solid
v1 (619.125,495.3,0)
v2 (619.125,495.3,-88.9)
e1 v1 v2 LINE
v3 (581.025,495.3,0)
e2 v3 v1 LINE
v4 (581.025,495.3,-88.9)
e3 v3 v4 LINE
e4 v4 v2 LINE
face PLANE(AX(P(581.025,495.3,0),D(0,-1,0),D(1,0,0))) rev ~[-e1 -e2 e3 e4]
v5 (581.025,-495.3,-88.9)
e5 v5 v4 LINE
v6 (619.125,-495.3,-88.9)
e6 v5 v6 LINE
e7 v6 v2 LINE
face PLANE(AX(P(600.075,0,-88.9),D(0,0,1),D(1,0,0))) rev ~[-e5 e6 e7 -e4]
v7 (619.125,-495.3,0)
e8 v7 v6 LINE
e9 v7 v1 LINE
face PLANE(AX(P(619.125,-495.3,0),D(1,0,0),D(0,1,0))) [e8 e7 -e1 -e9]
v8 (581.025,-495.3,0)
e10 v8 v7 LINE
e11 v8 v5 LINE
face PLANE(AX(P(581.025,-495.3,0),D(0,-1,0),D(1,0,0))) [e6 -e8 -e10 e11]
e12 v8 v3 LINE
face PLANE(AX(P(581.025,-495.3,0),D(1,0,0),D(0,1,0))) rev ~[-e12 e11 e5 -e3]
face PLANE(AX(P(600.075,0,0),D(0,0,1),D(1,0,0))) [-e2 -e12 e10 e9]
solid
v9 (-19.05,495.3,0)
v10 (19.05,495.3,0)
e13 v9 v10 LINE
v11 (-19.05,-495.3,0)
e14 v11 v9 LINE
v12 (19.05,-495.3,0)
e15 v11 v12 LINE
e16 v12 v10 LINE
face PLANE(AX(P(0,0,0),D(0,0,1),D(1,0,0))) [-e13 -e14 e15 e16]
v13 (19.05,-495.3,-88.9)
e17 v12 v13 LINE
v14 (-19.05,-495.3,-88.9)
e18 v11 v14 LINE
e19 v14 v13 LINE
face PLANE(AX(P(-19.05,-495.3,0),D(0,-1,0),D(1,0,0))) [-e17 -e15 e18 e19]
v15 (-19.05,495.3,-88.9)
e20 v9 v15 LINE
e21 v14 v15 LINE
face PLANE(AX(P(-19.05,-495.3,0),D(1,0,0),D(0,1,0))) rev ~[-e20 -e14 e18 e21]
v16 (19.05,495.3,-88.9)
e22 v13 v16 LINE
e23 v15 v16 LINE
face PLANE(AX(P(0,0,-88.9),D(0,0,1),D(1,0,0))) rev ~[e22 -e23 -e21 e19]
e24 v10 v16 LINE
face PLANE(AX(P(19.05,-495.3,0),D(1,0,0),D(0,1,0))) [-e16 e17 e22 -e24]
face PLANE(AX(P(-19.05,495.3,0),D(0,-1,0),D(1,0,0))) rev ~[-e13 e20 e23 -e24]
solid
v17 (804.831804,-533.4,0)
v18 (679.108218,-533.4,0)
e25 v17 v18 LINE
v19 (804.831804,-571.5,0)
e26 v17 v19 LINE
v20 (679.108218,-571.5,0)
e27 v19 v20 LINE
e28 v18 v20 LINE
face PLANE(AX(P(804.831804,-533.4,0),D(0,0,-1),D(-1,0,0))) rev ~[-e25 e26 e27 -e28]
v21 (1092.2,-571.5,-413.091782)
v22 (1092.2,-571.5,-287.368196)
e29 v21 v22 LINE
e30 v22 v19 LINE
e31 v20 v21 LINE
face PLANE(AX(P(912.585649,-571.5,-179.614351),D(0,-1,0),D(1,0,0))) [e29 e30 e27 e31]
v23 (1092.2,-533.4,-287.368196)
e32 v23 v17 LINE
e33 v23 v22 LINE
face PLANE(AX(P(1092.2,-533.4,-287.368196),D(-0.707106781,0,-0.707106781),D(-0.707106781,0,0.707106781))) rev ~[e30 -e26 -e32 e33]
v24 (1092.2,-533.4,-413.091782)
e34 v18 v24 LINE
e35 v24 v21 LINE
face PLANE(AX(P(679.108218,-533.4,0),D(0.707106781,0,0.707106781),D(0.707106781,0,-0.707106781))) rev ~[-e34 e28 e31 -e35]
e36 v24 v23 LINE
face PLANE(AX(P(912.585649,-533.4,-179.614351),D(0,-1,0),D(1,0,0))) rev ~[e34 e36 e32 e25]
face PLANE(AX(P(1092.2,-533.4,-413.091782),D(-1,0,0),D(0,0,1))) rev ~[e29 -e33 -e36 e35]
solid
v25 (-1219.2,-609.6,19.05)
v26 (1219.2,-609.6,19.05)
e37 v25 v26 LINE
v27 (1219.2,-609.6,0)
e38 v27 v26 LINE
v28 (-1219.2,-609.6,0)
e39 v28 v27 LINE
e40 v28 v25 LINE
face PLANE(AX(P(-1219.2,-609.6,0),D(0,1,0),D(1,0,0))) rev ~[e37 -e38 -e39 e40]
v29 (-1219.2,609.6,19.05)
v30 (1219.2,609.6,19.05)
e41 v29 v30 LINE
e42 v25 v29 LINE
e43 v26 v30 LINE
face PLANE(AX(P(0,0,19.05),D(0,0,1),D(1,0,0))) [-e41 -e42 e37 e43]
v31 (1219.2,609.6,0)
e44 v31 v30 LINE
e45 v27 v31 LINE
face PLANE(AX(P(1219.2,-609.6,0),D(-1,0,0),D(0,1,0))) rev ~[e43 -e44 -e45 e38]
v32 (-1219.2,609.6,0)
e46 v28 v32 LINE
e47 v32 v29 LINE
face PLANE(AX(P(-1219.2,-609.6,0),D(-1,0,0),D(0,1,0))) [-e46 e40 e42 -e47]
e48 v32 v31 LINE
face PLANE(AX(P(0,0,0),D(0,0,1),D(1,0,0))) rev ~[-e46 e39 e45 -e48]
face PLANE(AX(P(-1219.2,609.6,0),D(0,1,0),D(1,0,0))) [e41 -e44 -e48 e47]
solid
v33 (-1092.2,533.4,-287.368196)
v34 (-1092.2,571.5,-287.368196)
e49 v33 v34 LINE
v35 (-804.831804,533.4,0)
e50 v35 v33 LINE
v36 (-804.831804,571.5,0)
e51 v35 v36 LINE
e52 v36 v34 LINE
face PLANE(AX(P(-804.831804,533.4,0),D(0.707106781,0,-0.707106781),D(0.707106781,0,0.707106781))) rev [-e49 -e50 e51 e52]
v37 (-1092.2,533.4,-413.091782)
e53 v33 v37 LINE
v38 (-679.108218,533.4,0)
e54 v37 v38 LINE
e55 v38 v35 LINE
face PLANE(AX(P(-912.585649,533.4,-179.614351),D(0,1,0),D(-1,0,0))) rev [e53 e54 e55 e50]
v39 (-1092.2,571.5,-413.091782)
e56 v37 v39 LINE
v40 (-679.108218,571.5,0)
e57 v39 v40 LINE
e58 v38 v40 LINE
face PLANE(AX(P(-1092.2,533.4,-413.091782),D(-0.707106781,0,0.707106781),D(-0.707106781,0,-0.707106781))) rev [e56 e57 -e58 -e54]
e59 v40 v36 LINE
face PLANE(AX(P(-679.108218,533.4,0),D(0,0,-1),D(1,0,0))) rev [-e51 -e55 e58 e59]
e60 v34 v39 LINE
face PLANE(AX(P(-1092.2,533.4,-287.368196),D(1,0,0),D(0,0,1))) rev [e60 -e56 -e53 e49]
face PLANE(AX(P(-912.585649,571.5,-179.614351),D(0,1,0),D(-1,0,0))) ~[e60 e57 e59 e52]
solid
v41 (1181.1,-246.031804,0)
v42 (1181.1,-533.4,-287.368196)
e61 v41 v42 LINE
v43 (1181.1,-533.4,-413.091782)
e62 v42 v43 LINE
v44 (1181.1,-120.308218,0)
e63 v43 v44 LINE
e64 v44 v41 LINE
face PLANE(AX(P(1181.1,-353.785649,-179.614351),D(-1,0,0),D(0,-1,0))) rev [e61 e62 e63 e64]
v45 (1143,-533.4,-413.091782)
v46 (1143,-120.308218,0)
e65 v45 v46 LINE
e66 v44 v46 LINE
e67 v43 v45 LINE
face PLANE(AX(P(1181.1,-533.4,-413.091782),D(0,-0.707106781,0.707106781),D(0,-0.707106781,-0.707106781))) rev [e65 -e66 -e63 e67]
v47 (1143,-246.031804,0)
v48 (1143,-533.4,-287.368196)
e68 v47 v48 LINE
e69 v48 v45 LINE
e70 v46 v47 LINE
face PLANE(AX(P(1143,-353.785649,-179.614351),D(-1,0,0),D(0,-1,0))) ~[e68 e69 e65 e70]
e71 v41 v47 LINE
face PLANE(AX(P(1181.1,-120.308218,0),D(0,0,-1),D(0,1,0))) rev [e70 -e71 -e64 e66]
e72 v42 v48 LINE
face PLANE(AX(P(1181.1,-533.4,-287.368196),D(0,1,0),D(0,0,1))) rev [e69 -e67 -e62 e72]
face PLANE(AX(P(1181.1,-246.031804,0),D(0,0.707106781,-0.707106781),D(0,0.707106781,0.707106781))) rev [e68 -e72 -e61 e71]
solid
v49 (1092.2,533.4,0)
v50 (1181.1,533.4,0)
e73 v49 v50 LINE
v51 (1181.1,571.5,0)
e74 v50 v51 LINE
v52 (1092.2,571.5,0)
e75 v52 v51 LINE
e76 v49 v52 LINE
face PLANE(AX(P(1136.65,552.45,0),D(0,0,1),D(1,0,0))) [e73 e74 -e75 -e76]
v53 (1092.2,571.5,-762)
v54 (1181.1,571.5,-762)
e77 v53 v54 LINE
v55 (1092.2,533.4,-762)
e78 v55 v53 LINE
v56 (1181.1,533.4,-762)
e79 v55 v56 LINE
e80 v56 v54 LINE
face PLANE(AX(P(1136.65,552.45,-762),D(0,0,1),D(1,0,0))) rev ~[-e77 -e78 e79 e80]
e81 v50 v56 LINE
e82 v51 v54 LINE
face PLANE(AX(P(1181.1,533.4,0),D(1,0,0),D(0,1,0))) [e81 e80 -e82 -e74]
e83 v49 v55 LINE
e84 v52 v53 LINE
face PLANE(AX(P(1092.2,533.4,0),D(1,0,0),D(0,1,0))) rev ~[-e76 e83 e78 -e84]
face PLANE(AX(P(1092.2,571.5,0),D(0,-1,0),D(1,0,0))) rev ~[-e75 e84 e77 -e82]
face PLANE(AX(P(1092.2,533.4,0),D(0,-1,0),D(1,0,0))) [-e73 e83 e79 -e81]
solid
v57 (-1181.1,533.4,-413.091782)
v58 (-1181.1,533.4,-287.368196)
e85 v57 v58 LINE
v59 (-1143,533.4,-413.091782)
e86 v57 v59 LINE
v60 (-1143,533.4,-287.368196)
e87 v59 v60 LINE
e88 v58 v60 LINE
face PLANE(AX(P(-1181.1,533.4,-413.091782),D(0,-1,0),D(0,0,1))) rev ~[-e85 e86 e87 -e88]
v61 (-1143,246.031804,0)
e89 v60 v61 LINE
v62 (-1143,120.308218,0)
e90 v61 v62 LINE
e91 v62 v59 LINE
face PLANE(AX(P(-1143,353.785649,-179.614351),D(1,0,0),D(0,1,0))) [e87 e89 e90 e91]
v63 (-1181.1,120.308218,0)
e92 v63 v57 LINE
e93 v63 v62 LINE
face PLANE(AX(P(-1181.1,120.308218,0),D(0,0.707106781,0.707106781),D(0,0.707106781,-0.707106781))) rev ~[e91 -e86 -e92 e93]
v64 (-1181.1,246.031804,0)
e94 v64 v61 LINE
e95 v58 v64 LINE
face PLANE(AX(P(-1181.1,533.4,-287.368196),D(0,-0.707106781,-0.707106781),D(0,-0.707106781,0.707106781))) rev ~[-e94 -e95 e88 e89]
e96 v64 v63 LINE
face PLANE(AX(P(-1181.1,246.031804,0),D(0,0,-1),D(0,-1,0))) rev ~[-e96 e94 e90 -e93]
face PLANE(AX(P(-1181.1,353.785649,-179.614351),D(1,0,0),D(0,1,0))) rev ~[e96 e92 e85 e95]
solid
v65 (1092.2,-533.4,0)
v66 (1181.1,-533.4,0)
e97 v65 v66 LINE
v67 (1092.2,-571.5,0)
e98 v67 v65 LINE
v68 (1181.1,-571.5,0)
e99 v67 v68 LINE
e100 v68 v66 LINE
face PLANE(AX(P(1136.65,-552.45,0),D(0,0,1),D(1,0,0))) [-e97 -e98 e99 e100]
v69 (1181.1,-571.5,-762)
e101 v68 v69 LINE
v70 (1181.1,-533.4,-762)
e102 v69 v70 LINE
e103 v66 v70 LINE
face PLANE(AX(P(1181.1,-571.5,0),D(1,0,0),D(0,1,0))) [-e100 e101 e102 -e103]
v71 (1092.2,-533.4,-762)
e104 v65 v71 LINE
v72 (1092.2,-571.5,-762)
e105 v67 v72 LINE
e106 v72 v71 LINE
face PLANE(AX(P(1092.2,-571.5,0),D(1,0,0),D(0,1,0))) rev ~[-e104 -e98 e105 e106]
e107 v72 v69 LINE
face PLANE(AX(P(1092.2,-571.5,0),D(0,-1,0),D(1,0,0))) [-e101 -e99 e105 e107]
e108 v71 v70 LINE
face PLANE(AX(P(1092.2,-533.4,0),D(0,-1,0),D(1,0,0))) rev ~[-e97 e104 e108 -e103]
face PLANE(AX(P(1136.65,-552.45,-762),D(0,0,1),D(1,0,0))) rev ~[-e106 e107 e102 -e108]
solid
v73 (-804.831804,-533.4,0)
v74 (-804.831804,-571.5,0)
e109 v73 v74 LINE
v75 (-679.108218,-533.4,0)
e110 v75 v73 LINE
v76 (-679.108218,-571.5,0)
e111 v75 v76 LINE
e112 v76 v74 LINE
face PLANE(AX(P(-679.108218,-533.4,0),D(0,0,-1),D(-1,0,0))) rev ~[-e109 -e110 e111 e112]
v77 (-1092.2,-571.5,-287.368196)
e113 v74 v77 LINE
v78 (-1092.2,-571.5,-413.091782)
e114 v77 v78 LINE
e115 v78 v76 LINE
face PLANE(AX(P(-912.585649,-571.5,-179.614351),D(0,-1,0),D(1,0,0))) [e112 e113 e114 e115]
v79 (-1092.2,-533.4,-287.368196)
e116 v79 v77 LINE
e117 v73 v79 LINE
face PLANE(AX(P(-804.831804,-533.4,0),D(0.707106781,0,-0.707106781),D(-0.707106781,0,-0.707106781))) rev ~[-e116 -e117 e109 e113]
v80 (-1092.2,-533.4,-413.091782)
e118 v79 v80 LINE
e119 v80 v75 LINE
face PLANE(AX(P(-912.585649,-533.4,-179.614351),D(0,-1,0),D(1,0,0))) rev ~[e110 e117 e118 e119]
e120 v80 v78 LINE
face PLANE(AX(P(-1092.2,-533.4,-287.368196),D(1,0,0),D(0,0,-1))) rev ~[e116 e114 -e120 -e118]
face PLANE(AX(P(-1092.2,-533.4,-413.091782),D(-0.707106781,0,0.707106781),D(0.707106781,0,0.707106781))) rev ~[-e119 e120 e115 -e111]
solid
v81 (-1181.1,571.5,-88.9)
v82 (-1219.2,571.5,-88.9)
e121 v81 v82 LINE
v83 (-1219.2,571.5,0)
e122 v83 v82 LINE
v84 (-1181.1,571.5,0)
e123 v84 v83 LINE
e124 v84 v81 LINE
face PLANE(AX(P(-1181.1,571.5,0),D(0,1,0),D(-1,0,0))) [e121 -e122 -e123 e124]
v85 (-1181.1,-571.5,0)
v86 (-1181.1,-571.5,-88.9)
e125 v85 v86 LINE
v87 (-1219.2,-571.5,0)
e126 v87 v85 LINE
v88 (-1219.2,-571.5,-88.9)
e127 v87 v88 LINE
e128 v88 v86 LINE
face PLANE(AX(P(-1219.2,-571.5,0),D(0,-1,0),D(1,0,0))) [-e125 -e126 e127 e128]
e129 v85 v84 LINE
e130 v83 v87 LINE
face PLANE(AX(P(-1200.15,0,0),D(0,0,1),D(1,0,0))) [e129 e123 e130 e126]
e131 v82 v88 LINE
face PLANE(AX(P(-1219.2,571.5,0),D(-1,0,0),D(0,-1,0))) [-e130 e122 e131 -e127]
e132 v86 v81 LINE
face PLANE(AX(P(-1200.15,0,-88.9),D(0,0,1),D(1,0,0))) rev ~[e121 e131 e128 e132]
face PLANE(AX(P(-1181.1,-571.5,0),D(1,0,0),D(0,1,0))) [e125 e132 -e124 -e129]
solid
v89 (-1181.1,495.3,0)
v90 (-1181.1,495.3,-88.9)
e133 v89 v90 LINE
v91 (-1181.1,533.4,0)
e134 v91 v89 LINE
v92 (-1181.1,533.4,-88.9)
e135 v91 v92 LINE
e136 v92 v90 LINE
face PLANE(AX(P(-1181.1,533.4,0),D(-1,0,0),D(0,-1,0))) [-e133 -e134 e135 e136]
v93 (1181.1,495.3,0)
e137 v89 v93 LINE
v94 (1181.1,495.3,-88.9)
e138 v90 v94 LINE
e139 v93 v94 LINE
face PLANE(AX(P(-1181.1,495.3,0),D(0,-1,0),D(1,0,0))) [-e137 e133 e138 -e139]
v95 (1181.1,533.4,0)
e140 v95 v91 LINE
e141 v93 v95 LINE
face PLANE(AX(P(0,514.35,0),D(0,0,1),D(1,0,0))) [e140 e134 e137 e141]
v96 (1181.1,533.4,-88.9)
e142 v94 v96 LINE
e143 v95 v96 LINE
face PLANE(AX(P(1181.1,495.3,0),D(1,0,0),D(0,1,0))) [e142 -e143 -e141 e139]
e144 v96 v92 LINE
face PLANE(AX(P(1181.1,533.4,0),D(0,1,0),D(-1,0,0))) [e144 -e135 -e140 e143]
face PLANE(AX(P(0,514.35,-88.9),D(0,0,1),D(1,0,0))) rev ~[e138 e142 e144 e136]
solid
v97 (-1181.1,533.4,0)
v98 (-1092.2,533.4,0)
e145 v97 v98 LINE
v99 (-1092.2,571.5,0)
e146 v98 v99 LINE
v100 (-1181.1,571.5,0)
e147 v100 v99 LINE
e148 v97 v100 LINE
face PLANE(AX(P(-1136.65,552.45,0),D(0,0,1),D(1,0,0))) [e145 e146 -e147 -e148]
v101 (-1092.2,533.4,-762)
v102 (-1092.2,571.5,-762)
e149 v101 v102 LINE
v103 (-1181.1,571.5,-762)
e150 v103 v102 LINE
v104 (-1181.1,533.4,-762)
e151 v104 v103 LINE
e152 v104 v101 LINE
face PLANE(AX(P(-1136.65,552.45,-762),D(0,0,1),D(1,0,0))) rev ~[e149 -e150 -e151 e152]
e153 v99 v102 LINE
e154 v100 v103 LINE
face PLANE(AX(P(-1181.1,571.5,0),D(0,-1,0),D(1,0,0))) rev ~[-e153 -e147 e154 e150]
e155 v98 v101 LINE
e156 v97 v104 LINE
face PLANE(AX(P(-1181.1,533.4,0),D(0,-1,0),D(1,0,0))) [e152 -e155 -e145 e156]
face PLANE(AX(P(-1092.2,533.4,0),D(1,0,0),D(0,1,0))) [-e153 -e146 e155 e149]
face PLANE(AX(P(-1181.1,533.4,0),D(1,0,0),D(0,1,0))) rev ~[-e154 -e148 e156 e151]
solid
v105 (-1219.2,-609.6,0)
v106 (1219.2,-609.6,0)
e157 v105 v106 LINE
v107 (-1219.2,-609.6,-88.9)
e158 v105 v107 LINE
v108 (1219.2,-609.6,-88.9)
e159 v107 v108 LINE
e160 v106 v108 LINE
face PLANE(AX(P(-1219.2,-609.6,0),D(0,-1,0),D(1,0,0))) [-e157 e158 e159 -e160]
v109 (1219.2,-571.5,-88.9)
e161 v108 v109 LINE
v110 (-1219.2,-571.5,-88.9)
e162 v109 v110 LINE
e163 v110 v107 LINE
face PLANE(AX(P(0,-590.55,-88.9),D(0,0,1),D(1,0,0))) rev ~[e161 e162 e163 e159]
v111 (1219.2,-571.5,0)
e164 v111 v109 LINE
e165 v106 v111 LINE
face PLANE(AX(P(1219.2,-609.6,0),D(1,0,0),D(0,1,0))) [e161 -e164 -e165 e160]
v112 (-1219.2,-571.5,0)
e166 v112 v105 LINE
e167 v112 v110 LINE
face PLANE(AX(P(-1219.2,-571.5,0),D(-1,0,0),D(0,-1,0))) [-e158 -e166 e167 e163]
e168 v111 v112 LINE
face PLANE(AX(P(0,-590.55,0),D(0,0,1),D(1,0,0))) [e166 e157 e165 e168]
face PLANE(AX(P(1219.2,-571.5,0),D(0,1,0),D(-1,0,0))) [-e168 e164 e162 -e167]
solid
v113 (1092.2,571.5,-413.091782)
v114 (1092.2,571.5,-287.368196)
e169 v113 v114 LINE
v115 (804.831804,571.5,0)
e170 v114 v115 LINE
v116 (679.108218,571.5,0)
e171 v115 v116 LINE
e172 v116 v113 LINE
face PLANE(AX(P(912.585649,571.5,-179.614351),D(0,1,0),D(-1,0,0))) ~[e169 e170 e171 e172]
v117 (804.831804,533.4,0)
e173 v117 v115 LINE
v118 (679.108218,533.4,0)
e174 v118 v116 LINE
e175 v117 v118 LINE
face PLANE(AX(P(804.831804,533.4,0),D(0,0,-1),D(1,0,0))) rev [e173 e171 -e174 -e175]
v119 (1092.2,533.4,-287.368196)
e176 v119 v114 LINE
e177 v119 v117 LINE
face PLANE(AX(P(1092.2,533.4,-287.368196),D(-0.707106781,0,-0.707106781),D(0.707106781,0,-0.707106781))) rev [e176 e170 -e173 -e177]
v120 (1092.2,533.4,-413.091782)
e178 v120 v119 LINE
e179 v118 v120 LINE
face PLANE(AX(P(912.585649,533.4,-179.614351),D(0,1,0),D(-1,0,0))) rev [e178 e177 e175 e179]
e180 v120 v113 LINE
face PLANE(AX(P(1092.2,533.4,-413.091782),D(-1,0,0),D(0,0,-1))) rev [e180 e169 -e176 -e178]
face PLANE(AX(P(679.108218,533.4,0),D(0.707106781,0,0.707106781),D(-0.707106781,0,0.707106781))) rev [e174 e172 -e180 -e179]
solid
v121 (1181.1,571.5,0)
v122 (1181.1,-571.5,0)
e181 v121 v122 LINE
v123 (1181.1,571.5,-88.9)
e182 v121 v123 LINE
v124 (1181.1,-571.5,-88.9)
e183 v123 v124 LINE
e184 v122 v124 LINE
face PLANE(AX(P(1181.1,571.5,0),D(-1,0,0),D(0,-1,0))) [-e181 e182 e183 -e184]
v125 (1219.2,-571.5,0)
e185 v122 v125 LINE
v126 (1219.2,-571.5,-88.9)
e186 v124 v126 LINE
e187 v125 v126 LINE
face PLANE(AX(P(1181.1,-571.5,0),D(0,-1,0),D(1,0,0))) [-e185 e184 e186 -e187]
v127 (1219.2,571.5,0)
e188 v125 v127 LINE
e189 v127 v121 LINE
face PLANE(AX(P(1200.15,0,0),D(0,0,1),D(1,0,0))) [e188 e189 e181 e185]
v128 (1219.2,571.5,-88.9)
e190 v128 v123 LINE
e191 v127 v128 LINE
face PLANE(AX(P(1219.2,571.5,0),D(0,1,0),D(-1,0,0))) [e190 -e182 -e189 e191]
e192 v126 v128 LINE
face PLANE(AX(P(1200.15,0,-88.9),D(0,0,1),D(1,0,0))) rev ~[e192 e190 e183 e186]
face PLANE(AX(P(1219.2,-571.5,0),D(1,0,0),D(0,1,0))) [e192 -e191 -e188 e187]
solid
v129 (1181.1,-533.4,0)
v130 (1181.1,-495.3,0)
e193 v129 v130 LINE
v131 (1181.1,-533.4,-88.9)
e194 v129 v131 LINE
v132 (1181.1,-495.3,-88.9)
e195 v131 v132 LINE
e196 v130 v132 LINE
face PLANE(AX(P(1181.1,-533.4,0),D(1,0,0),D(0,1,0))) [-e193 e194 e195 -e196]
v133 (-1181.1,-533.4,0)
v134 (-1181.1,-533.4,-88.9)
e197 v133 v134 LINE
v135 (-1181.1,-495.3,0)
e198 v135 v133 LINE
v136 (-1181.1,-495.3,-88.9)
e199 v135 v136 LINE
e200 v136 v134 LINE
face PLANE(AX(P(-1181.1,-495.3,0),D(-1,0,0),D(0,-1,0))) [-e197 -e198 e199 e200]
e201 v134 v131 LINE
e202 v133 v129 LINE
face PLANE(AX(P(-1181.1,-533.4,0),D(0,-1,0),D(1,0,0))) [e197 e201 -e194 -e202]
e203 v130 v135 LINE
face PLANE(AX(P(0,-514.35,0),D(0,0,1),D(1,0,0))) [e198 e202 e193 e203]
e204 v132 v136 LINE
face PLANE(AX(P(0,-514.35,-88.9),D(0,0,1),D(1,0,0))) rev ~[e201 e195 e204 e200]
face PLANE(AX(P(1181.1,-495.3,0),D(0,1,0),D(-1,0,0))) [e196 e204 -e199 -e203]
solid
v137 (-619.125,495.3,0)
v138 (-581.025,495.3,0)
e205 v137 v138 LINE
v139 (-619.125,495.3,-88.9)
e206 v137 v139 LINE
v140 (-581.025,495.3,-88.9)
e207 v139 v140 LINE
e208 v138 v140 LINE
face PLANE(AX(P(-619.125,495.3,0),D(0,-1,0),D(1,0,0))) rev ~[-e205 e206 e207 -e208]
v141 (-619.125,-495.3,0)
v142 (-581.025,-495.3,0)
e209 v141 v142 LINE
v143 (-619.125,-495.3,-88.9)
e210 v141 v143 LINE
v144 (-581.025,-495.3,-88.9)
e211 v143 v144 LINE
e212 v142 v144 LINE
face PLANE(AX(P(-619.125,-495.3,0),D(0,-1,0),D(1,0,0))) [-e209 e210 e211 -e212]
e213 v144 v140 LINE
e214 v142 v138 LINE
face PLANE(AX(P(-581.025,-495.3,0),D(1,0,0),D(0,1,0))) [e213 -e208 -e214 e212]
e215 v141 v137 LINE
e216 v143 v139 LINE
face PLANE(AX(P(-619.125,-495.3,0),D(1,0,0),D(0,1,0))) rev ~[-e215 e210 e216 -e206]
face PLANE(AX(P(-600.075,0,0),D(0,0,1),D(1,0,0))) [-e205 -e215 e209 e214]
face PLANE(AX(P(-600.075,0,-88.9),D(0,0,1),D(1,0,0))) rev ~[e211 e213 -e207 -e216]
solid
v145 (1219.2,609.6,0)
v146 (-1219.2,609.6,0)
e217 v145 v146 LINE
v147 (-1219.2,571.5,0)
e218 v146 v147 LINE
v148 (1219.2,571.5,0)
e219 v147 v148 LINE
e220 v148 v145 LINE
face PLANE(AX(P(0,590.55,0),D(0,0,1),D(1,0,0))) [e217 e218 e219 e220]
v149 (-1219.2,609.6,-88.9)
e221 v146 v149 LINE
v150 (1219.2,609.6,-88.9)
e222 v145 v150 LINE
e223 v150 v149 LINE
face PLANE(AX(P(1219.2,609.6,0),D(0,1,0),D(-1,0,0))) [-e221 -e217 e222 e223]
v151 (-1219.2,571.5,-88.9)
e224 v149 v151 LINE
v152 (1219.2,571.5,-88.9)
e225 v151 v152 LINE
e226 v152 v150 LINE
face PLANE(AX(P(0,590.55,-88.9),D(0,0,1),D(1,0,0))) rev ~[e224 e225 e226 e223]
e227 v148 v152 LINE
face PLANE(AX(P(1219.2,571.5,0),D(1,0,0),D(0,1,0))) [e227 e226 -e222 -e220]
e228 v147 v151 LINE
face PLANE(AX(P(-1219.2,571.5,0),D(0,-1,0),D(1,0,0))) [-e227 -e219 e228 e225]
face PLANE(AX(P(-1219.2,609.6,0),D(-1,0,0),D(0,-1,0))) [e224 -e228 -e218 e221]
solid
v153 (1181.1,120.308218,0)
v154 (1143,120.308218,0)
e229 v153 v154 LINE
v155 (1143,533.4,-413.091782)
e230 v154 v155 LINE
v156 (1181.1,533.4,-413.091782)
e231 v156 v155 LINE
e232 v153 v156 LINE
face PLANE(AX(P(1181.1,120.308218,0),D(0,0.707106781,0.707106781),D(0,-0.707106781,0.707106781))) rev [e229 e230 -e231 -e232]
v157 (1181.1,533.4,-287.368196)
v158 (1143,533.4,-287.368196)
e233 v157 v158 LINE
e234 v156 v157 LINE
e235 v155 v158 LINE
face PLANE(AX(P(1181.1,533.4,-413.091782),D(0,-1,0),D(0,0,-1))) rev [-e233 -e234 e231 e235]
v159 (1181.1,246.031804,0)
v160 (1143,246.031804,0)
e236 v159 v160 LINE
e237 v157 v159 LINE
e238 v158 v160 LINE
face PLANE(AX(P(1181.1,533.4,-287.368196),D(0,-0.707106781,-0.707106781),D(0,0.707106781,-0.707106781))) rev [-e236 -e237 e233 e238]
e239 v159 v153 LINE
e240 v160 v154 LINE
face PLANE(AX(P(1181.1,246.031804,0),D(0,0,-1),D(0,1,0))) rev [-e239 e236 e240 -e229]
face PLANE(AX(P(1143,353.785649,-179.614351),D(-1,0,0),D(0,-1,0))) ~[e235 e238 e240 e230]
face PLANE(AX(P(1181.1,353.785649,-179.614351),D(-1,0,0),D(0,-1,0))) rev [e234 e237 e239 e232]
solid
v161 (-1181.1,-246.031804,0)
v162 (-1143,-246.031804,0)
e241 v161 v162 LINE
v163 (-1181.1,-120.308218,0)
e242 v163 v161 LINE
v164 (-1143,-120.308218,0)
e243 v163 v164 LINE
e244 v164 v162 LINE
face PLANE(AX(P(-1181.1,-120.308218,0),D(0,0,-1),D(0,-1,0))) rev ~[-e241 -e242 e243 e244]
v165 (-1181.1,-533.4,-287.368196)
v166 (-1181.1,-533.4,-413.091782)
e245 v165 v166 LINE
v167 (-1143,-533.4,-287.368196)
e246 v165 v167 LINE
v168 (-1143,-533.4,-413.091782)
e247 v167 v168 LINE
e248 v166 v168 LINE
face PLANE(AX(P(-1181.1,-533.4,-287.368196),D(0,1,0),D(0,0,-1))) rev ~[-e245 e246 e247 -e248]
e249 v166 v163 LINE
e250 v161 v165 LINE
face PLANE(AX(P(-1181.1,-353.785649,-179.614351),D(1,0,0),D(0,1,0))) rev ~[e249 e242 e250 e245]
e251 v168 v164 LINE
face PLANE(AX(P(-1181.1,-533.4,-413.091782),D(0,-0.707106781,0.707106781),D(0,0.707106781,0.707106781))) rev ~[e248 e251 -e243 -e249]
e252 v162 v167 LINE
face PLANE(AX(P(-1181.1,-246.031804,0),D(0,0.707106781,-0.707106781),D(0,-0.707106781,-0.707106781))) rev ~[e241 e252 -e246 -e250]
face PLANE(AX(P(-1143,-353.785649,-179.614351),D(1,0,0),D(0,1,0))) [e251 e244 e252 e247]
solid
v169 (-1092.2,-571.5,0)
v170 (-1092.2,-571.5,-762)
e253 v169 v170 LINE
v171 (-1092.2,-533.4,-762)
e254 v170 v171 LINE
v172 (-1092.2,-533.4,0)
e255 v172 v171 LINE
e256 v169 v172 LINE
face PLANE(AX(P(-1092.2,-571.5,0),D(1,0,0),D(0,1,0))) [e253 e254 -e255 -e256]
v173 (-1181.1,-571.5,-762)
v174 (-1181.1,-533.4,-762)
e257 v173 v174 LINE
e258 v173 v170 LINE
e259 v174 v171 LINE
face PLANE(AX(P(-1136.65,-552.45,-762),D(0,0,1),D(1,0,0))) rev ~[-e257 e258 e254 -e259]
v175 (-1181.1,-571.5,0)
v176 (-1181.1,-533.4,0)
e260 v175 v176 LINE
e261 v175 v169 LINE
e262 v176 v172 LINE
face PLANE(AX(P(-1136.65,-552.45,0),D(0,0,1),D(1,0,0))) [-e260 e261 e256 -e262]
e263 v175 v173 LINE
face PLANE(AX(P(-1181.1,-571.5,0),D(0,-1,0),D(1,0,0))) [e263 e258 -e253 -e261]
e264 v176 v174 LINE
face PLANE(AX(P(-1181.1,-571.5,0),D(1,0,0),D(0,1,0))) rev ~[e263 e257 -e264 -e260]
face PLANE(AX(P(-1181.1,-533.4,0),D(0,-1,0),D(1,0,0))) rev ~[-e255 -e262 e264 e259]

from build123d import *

# Parameters (mm, degrees)
F1_DEPTH  = 88.9
F2_DEPTH  = 88.9
F0_W      = 38.1
F0_H      = 990.6
F0_W_2    = 88.9
F0_H_2    = 38.1
F3_DEPTH  = 762
F5_W      = 2438.4
F5_H      = 1219.2
F12_DEPTH = 19.05
F7_DEPTH  = 38.1
F10_DEPTH = 38.1


with BuildPart() as f1:
    # F0 (on Top) → F1 (new body)
    with BuildSketch(Plane.XY):
        Polygon((1181.1, 571.5), (1219.2, 571.5), (1219.2, 609.6), (-1219.2, 609.6), (-1219.2, 571.5), (-1181.1, 571.5), (-1092.2, 571.5), (1092.2, 571.5), align=None)
    extrude(amount=-F1_DEPTH)


with BuildPart() as f1b:
    # F0 (on Top) → F1, piece 2 (new body)
    with BuildSketch(Plane.XY):
        Polygon((1181.1, 495.3), (1181.1, 533.4), (1092.2, 533.4), (-1092.2, 533.4), (-1181.1, 533.4), (-1181.1, 495.3), (-619.125, 495.3), (-581.025, 495.3), (-19.05, 495.3), (19.05, 495.3), (581.025, 495.3), (619.125, 495.3), align=None)
    extrude(amount=-F1_DEPTH)


with BuildPart() as f1c:
    # F0 (on Top) → F1, piece 3 (new body)
    with BuildSketch(Plane.XY):
        Polygon((1092.2, -533.4), (1181.1, -533.4), (1181.1, -495.3), (619.125, -495.3), (581.025, -495.3), (19.05, -495.3), (-19.05, -495.3), (-581.025, -495.3), (-619.125, -495.3), (-1181.1, -495.3), (-1181.1, -533.4), (-1092.2, -533.4), align=None)
    extrude(amount=-F1_DEPTH)


with BuildPart() as f1d:
    # F0 (on Top) → F1, piece 4 (new body)
    with BuildSketch(Plane.XY):
        Polygon((-1219.2, -609.6), (1219.2, -609.6), (1219.2, -571.5), (1181.1, -571.5), (1092.2, -571.5), (-1092.2, -571.5), (-1181.1, -571.5), (-1219.2, -571.5), align=None)
    extrude(amount=-F1_DEPTH)


with BuildPart() as f2:
    # F0 (on Top) → F2 (new body)
    with BuildSketch(Plane.XY):
        Polygon((-1219.2, 571.5), (-1219.2, -571.5), (-1181.1, -571.5), (-1181.1, -533.4), (-1181.1, -495.3), (-1181.1, 495.3), (-1181.1, 533.4), (-1181.1, 571.5), align=None)
    extrude(amount=-F2_DEPTH)


with BuildPart() as f2b:
    # F0 (on Top) → F2, piece 2 (new body)
    with BuildSketch(Plane.XY):
        with Locations((-600.075, 0)):
            Rectangle(F0_W, F0_H)
    extrude(amount=-F2_DEPTH)


with BuildPart() as f2c:
    # F0 (on Top) → F2, piece 3 (new body)
    with BuildSketch(Plane.XY):
        Rectangle(F0_W, F0_H)
    extrude(amount=-F2_DEPTH)


with BuildPart() as f2d:
    # F0 (on Top) → F2, piece 4 (new body)
    with BuildSketch(Plane.XY):
        with Locations((600.075, 0)):
            Rectangle(F0_W, F0_H)
    extrude(amount=-F2_DEPTH)


with BuildPart() as f2e:
    # F0 (on Top) → F2, piece 5 (new body)
    with BuildSketch(Plane.XY):
        Polygon((1181.1, -571.5), (1219.2, -571.5), (1219.2, 571.5), (1181.1, 571.5), (1181.1, 533.4), (1181.1, 495.3), (1181.1, -495.3), (1181.1, -533.4), align=None)
    extrude(amount=-F2_DEPTH)


with BuildPart() as f3:
    # F0 (on Top) → F3 (new body)
    with BuildSketch(Plane.XY):
        with Locations((-1136.65, 552.45)):
            Rectangle(F0_W_2, F0_H_2)
    extrude(amount=-F3_DEPTH)


with BuildPart() as f3b:
    # F0 (on Top) → F3, piece 2 (new body)
    with BuildSketch(Plane.XY):
        with Locations((-1136.65, -552.45)):
            Rectangle(F0_W_2, F0_H_2)
    extrude(amount=-F3_DEPTH)


with BuildPart() as f3c:
    # F0 (on Top) → F3, piece 3 (new body)
    with BuildSketch(Plane.XY):
        with Locations((1136.65, 552.45)):
            Rectangle(F0_W_2, F0_H_2)
    extrude(amount=-F3_DEPTH)


with BuildPart() as f3d:
    # F0 (on Top) → F3, piece 4 (new body)
    with BuildSketch(Plane.XY):
        with Locations((1136.65, -552.45)):
            Rectangle(F0_W_2, F0_H_2)
    extrude(amount=-F3_DEPTH)


with BuildPart() as f12:
    # F5 (on face) → F12 (new body)
    with BuildSketch(Plane.XY):
        Rectangle(F5_W, F5_H)
    extrude(amount=F12_DEPTH)


with BuildPart() as f7:
    # F6 (on face) → F7 (new body)
    with BuildSketch(Plane.XZ.offset(533.4)):
        Polygon((-804.8318041258, 0), (-1092.2, -287.3681958742), (-1092.2, -413.0917815692), (-679.1082184308, 0), align=None)
    extrude(amount=F7_DEPTH)


with BuildPart() as f7b:
    # F6 (on face) → F7, piece 2 (new body)
    with BuildSketch(Plane.XZ.offset(533.4)):
        Polygon((1092.2, -287.3681958742), (804.8318041258, 0), (679.1082184308, 0), (1092.2, -413.0917815692), align=None)
    extrude(amount=F7_DEPTH)


with BuildPart() as f8_1:
    # F8: instance of F7
    add(f7.part.mirror(Plane.XZ))


with BuildPart() as f8_2:
    # F8: instance of F7b
    add(f7b.part.mirror(Plane.XZ))


with BuildPart() as f10:
    # F9 (on face) → F10 (new body)
    with BuildSketch(Plane.YZ.offset(-1181.1)):
        Polygon((-120.3082184308, 0), (-246.0318041258, 0), (-533.4, -287.3681958742), (-533.4, -413.0917815692), align=None)
    extrude(amount=F10_DEPTH)


with BuildPart() as f10b:
    # F9 (on face) → F10, piece 2 (new body)
    with BuildSketch(Plane.YZ.offset(-1181.1)):
        Polygon((533.4, -287.3681958742), (246.0318041258, 0), (120.3082184308, 0), (533.4, -413.0917815692), align=None)
    extrude(amount=F10_DEPTH)


with BuildPart() as f11_1:
    # F11: instance of F10
    add(f10.part.mirror(Plane.YZ))


with BuildPart() as f11_2:
    # F11: instance of F10b
    add(f10b.part.mirror(Plane.YZ))


solid = Compound([f1.part, f1b.part, f1c.part, f1d.part, f2.part, f2b.part, f2c.part, f2d.part, f2e.part, f3.part, f3b.part, f3c.part, f3d.part, f12.part, f7.part, f7b.part, f8_1.part, f8_2.part, f10.part, f10b.part, f11_1.part, f11_2.part])
